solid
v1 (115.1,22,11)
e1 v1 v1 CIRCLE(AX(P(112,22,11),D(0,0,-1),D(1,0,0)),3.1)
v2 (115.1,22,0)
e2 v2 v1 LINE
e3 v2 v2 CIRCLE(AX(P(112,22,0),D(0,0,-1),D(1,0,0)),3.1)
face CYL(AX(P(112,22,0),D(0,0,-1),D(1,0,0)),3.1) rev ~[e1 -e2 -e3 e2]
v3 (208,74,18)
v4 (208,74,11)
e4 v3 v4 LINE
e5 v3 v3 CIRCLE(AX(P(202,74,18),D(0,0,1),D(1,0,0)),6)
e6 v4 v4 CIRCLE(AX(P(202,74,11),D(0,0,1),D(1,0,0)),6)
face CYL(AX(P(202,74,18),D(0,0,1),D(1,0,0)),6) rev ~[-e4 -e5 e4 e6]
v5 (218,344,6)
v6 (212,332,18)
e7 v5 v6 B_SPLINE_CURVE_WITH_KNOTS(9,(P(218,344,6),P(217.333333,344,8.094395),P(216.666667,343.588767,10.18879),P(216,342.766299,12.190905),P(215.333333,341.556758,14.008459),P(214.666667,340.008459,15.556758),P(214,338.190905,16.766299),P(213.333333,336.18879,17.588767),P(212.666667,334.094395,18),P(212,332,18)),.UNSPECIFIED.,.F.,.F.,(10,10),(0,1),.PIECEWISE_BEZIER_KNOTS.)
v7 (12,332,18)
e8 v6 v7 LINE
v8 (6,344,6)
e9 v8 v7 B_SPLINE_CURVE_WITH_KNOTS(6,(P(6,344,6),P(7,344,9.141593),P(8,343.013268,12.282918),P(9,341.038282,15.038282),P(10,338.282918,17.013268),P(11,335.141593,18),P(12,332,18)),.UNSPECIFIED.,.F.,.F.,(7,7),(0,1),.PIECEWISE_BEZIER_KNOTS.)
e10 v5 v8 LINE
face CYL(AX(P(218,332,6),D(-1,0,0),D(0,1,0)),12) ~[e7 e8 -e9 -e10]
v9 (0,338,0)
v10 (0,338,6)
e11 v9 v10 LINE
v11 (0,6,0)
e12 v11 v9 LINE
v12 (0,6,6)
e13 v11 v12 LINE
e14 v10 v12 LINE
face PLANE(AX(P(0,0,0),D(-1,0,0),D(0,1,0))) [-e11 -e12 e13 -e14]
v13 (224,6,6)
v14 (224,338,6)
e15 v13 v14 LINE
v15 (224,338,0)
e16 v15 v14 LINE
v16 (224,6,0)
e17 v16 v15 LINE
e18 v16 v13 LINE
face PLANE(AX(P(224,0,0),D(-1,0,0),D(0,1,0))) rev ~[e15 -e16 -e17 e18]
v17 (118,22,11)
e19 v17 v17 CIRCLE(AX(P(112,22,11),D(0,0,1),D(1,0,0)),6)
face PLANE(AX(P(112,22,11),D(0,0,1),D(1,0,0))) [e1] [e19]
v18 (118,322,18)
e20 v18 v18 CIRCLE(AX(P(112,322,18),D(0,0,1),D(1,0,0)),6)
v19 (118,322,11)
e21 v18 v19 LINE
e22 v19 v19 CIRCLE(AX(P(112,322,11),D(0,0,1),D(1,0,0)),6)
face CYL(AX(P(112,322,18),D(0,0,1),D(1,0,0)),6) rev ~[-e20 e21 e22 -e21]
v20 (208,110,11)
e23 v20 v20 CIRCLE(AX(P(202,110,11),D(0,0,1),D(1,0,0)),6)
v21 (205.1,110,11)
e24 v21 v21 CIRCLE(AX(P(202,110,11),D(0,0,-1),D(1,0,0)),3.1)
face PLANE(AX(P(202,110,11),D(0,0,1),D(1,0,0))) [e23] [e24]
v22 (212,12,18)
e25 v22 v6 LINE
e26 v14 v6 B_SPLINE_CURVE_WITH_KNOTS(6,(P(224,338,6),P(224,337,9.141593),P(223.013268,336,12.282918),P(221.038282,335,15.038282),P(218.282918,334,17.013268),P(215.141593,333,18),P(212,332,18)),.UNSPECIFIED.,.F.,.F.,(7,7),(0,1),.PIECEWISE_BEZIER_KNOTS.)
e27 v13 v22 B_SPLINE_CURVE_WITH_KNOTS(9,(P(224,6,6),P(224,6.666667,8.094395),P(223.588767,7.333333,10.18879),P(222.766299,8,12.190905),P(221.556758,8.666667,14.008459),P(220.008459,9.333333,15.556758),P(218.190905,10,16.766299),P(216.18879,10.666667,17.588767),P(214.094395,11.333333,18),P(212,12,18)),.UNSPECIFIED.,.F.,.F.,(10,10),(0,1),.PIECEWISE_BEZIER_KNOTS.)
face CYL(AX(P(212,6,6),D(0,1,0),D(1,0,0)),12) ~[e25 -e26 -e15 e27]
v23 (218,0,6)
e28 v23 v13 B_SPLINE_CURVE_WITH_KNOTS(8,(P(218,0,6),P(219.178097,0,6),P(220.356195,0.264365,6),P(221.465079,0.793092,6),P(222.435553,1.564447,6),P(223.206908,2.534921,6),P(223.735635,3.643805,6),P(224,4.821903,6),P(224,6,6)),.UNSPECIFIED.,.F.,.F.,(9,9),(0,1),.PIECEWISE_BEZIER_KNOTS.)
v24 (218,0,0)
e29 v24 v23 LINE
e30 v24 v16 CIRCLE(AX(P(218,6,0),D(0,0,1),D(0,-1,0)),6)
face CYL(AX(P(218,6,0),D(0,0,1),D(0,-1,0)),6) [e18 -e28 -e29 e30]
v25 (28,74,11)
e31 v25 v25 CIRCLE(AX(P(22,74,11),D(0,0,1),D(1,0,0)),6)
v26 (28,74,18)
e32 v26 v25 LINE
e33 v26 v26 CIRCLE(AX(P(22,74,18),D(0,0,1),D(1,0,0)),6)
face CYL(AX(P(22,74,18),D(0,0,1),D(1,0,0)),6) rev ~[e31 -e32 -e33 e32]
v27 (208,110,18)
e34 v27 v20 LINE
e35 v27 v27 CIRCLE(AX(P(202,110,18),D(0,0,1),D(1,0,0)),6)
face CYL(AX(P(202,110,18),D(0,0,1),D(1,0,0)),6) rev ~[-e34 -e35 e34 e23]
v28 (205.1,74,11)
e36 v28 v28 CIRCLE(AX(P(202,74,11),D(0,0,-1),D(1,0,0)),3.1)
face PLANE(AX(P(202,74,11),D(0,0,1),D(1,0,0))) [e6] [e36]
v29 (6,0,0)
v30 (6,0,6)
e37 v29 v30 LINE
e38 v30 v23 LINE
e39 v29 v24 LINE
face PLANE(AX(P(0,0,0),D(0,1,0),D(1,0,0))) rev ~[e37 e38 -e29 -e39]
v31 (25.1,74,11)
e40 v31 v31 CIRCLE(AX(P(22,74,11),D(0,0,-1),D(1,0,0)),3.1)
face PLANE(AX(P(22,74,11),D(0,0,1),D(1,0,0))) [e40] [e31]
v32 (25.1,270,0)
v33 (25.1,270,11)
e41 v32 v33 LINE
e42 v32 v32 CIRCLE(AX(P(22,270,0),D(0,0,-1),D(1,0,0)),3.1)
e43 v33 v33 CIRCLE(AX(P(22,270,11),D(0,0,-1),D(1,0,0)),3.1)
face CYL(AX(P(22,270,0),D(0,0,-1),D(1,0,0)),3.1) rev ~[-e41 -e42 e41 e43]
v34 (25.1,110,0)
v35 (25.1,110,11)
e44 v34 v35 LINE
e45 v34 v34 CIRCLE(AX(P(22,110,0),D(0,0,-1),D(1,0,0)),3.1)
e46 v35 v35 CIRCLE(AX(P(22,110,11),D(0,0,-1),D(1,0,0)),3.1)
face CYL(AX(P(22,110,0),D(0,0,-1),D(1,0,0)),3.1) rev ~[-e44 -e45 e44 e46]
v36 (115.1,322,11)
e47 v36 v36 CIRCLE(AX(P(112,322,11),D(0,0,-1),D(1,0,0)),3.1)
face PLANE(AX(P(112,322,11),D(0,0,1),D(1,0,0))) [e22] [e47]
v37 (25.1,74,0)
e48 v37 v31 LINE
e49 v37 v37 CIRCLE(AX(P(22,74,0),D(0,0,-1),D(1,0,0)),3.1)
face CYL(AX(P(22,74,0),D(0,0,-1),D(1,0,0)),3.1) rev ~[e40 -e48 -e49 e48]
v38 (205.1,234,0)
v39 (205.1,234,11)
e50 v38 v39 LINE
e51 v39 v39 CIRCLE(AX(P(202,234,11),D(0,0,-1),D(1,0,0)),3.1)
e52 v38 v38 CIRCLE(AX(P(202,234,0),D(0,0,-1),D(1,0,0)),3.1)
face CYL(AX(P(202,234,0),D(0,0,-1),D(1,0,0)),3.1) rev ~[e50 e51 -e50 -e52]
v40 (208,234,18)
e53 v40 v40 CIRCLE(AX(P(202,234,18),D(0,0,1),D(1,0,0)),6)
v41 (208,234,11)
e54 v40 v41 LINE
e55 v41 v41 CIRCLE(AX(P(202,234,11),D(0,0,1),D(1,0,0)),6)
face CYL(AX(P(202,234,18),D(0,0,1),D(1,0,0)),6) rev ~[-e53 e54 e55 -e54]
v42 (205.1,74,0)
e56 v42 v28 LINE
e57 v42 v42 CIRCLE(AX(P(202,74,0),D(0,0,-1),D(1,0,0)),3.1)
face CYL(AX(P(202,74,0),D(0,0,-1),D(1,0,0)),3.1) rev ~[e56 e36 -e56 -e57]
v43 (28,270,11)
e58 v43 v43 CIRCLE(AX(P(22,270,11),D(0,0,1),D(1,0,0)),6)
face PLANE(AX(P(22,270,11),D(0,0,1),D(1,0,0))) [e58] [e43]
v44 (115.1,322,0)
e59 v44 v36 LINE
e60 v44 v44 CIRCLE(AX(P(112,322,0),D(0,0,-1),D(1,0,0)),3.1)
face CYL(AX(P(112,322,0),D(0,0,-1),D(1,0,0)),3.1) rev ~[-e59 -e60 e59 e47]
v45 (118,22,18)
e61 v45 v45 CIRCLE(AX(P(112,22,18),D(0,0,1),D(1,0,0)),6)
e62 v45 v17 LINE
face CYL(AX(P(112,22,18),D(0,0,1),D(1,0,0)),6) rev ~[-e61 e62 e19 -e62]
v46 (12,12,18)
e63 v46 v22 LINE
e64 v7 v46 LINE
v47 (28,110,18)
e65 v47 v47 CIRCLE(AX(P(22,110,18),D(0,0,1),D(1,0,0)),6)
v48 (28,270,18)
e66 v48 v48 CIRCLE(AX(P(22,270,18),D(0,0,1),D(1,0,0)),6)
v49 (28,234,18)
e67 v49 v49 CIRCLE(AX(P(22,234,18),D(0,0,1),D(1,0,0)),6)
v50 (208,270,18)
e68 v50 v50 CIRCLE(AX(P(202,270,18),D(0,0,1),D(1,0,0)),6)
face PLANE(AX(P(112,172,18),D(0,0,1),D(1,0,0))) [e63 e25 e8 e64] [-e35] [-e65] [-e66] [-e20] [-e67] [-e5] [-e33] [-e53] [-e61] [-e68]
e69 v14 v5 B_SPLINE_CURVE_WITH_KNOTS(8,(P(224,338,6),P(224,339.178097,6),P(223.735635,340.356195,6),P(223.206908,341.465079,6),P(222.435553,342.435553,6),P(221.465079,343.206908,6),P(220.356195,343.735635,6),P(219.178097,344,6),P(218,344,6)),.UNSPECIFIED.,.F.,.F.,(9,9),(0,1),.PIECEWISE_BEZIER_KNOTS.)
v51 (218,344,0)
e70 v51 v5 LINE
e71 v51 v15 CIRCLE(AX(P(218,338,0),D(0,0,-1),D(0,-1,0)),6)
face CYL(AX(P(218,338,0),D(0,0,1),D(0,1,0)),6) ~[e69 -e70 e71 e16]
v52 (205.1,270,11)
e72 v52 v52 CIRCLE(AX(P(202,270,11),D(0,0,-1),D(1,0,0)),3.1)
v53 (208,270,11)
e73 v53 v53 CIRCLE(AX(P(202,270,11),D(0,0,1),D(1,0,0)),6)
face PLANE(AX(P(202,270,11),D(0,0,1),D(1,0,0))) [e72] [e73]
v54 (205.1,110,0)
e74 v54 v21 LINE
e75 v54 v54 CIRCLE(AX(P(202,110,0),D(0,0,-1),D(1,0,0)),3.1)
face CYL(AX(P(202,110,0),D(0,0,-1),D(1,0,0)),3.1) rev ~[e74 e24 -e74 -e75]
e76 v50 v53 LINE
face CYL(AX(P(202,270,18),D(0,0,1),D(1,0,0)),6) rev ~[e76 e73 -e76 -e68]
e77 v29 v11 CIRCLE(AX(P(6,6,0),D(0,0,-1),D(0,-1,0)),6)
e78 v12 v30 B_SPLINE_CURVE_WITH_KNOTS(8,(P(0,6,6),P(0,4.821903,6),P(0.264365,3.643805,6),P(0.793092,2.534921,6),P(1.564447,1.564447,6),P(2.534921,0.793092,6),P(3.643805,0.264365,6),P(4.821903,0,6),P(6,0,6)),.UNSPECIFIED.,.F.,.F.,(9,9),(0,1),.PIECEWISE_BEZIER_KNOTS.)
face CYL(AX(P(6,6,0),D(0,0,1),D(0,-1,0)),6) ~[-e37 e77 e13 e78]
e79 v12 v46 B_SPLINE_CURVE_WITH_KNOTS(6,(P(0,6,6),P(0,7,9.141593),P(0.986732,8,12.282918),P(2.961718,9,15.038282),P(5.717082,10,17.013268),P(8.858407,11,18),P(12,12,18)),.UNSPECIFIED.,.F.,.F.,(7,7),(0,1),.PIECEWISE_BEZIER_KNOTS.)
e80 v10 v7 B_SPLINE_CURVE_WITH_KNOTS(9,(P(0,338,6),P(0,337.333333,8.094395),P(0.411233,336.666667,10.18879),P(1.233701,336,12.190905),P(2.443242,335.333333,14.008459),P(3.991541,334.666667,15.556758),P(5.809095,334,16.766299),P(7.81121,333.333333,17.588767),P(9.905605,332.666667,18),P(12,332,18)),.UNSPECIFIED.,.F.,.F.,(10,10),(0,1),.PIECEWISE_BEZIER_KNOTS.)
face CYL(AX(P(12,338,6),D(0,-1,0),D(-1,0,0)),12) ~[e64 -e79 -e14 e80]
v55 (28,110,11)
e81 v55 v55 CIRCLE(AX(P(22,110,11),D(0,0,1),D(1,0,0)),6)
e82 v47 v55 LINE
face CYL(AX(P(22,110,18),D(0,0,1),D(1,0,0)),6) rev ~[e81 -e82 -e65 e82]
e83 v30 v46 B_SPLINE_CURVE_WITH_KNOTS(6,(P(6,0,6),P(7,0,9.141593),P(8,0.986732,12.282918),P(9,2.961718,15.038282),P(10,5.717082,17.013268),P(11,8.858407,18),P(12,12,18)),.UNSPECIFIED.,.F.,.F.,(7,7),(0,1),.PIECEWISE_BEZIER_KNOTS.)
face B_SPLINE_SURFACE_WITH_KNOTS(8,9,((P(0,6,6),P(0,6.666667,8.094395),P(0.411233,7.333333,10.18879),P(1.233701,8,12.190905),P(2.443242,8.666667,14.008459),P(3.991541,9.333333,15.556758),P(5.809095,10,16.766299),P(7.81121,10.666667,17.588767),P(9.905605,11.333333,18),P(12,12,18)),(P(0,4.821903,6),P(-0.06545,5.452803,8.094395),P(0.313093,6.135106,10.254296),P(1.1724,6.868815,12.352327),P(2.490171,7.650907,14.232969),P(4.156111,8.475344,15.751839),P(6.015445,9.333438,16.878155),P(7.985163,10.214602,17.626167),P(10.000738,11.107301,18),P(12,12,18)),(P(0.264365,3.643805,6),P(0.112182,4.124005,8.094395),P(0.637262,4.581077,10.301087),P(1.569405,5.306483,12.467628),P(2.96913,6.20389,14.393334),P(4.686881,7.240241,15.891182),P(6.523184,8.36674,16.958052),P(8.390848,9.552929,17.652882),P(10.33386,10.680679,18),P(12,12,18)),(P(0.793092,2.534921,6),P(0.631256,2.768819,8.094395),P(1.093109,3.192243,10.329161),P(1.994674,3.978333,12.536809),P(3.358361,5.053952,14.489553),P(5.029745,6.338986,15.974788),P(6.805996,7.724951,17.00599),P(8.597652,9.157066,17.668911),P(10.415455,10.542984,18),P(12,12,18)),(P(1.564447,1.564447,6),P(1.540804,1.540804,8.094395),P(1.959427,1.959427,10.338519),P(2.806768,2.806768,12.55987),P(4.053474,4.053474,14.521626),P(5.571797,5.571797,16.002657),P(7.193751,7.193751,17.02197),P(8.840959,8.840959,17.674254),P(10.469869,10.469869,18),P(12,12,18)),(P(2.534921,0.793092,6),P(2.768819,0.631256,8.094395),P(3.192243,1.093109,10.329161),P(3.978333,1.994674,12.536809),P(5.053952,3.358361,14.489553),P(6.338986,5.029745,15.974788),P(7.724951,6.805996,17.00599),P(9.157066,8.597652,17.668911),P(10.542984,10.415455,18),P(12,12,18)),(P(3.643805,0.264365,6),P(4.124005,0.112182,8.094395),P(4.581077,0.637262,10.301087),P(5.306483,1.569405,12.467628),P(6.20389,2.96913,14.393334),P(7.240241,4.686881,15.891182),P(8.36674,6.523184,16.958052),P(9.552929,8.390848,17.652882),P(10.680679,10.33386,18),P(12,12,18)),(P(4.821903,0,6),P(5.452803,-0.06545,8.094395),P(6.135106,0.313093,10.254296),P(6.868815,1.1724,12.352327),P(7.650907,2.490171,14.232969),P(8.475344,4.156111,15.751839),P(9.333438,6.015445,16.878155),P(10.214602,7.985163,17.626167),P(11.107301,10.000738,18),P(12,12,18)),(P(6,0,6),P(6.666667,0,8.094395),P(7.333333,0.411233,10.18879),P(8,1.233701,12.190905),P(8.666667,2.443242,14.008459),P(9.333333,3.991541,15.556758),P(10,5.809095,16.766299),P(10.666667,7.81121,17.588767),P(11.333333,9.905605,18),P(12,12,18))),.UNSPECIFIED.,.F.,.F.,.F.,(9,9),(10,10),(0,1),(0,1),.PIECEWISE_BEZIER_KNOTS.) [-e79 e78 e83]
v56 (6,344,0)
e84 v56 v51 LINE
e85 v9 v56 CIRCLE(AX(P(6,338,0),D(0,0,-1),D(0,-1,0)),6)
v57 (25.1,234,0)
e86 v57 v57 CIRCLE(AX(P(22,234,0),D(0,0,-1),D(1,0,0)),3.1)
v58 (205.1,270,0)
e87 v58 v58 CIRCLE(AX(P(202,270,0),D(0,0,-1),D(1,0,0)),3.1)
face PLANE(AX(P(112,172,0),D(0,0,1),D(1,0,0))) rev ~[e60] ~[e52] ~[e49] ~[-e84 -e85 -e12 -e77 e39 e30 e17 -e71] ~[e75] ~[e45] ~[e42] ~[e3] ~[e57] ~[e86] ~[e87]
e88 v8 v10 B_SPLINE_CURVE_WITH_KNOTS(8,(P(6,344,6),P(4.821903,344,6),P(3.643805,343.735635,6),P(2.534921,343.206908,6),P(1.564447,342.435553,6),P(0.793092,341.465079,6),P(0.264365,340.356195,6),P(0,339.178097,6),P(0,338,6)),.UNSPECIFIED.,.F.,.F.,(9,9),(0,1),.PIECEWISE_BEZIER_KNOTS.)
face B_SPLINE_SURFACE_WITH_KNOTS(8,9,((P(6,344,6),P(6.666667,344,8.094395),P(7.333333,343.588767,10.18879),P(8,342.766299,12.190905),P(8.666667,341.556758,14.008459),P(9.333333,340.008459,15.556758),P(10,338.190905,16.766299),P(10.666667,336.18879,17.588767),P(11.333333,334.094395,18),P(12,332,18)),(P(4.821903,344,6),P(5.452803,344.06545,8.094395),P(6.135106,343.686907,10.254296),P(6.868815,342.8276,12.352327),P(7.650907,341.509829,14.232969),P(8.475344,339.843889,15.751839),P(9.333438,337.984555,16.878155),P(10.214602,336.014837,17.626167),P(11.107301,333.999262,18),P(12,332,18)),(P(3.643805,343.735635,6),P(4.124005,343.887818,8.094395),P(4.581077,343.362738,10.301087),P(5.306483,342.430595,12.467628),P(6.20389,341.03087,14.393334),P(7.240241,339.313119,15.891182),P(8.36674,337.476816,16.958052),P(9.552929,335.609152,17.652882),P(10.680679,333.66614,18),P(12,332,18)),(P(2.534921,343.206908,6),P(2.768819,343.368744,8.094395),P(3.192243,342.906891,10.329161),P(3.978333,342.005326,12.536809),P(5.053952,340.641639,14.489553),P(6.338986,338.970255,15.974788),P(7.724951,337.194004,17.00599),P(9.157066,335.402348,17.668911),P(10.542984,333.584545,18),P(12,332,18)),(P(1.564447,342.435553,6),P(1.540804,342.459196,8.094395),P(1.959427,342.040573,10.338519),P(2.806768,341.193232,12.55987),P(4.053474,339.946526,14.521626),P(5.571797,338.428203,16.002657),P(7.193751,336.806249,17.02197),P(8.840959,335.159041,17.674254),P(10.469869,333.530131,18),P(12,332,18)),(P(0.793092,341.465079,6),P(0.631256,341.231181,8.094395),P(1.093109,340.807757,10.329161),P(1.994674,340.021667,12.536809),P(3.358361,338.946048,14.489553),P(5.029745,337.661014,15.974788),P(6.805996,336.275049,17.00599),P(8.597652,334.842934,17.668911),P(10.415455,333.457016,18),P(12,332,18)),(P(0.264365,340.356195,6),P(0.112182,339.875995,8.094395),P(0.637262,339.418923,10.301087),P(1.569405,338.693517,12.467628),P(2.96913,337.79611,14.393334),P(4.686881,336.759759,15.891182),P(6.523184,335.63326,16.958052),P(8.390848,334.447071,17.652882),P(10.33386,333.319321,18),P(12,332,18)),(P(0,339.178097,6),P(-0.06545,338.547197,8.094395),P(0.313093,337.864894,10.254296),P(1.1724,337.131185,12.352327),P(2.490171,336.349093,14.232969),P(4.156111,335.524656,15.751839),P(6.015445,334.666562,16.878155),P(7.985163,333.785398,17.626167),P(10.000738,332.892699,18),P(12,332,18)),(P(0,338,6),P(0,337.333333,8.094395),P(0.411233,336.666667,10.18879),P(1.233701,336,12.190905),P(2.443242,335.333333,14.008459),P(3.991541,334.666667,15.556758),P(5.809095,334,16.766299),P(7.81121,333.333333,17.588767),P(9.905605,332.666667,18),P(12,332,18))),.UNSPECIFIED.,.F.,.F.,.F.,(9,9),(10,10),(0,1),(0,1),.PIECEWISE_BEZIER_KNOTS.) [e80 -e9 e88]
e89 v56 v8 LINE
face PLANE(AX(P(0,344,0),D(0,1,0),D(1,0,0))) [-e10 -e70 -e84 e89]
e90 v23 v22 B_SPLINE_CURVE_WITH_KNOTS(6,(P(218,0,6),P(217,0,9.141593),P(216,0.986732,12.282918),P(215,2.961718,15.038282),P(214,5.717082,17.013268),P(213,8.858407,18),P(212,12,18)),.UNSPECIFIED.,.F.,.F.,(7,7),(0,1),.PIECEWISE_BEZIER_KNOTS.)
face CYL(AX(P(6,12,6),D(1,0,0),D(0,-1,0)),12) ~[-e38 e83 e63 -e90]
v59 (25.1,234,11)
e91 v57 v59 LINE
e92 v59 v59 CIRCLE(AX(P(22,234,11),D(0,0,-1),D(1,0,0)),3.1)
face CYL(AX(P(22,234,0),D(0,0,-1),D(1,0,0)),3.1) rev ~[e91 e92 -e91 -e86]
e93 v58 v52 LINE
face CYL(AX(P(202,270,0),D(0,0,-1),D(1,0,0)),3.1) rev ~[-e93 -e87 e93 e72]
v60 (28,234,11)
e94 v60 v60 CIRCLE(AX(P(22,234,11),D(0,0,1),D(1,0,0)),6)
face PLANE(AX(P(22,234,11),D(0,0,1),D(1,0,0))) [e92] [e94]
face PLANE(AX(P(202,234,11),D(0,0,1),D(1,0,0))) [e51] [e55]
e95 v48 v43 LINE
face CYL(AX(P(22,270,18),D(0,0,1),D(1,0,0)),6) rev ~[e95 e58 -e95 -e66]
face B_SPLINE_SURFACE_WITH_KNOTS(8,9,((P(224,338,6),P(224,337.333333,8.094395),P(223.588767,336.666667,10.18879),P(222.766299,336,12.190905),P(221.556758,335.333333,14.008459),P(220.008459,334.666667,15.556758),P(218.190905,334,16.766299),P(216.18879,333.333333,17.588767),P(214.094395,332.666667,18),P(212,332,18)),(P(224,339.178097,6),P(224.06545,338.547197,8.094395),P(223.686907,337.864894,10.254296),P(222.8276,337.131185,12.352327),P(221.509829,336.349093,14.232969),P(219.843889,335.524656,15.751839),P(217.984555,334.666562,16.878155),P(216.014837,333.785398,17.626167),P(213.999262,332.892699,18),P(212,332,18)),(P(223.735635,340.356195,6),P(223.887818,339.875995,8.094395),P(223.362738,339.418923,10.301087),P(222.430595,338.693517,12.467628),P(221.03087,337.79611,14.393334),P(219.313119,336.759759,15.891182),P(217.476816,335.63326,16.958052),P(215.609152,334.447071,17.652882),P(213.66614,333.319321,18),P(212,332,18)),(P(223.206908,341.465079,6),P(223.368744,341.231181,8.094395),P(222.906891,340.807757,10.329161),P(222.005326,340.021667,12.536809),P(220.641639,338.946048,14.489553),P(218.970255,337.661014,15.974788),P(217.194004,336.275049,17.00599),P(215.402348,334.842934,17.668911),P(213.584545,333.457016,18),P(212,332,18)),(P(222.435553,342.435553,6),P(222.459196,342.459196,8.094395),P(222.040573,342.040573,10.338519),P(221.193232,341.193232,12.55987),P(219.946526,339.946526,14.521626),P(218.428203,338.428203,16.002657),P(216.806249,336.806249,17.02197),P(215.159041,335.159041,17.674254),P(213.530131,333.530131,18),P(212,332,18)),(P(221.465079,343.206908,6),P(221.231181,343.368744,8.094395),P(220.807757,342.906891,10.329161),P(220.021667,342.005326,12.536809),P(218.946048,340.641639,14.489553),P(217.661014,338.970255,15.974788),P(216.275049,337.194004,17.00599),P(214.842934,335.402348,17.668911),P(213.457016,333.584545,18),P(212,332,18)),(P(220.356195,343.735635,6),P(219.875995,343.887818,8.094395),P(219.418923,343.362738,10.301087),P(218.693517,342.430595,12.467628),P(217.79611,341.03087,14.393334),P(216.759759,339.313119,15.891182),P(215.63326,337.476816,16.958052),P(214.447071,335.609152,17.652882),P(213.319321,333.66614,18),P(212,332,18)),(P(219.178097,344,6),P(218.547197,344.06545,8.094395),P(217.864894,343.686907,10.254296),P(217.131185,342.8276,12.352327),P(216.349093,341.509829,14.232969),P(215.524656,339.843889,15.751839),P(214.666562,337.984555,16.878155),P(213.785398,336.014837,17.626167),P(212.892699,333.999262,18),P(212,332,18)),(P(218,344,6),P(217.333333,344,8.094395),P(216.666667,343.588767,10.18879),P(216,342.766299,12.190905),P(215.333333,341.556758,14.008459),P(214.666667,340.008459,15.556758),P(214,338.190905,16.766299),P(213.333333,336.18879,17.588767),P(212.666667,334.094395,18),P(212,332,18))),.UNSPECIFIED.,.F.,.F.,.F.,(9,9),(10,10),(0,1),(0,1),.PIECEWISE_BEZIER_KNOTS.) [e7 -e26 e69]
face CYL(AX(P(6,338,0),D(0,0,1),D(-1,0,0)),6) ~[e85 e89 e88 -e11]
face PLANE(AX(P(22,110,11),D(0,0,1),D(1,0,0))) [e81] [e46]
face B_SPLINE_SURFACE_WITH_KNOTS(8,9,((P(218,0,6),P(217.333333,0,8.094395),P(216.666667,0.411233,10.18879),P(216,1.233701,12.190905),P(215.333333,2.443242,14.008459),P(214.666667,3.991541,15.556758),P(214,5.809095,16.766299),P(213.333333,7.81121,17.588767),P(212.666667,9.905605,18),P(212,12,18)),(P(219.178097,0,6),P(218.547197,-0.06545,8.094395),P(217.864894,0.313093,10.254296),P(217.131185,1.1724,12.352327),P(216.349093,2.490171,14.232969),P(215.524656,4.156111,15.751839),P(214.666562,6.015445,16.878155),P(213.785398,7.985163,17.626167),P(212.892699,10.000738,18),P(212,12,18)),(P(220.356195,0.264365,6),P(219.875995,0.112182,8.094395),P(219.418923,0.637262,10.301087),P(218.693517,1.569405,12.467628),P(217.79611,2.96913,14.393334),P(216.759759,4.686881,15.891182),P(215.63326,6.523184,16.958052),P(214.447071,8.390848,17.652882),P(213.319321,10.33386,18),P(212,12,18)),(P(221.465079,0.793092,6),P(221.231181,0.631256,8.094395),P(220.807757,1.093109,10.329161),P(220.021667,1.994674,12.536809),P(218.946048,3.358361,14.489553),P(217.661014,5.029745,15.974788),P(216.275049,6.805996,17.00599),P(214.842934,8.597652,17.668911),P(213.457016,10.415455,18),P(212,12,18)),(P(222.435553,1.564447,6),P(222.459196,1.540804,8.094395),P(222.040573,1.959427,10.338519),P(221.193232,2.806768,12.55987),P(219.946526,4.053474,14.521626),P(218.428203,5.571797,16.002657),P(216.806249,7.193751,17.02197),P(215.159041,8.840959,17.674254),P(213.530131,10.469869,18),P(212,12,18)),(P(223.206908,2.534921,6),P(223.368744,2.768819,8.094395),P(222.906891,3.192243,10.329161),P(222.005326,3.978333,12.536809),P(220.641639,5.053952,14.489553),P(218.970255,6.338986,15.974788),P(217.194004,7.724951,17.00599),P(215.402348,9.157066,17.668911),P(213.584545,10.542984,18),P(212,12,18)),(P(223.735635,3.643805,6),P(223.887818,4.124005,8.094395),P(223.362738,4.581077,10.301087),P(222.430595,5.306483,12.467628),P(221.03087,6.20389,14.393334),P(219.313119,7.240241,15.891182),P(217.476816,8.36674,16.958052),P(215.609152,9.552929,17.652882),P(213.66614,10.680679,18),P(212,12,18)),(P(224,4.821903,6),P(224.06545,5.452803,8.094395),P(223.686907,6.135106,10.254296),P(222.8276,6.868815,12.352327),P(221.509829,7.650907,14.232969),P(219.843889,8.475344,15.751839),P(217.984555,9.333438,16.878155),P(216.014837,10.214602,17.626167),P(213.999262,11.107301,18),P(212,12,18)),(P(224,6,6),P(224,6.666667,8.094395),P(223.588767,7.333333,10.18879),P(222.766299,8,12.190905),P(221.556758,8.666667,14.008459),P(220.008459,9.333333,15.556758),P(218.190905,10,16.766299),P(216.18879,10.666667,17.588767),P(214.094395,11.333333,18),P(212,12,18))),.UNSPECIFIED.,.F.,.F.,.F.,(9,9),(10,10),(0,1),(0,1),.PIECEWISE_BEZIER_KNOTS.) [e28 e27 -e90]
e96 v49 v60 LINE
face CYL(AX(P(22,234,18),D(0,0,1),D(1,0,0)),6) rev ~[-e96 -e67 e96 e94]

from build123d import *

# Parameters (mm, degrees)
SKETCH_W        = 224
SKETCH_H        = 344
PAD_DEPTH       = 18
SKETCH001_R     = 6
POCKET_DEPTH    = 7
SKETCH002_R     = 3.1
POCKET001_DEPTH = 11
FILLET_R        = 6
FILLET001_R     = 6
FILLET002_R     = 6
FILLET003_R     = 6
FILLET004_R     = 12


with BuildPart() as part:
    # Sketch → Pad (new body)
    with BuildSketch(Plane.XY):
        with Locations((112, 172)):
            Rectangle(SKETCH_W, SKETCH_H)
    extrude(amount=PAD_DEPTH)

    # Sketch001 (on Face6 of Pad) → Pocket (cut)
    with BuildSketch(Plane.XY.offset(18)):
        with Locations((112, 322)):
            Circle(SKETCH001_R)
        with Locations((22, 270)):
            Circle(SKETCH001_R)
        with Locations((22, 74)):
            Circle(SKETCH001_R)
        with Locations((202, 234)):
            Circle(SKETCH001_R)
        with Locations((202, 110)):
            Circle(SKETCH001_R)
        with Locations((112, 22)):
            Circle(SKETCH001_R)
        with Locations((22, 234)):
            Circle(SKETCH001_R)
        with Locations((22, 110)):
            Circle(SKETCH001_R)
        with Locations((202, 270)):
            Circle(SKETCH001_R)
        with Locations((202, 74)):
            Circle(SKETCH001_R)
    extrude(amount=-POCKET_DEPTH, mode=Mode.SUBTRACT)

    # Sketch002 (on Face4 of Pocket) → Pocket001 (cut)
    with BuildSketch(Plane(origin=(0, 0, 0), x_dir=(1, 0, 0), z_dir=(0, 0, -1))):
        with Locations((112, -22)):
            Circle(SKETCH002_R)
        with Locations((22, -74)):
            Circle(SKETCH002_R)
        with Locations((22, -110)):
            Circle(SKETCH002_R)
        with Locations((22, -234)):
            Circle(SKETCH002_R)
        with Locations((22, -270)):
            Circle(SKETCH002_R)
        with Locations((202, -74)):
            Circle(SKETCH002_R)
        with Locations((202, -110)):
            Circle(SKETCH002_R)
        with Locations((202, -234)):
            Circle(SKETCH002_R)
        with Locations((202, -270)):
            Circle(SKETCH002_R)
        with Locations((112, -322)):
            Circle(SKETCH002_R)
    extrude(amount=-POCKET001_DEPTH, mode=Mode.SUBTRACT)

    # Fillet
    fillet_edges = [part.edges().sort_by_distance(p)[0] for p in [
        (224, 0, 9),
    ]]
    fillet(fillet_edges, radius=FILLET_R)

    # Fillet001
    fillet001_edges = [part.edges().sort_by_distance(p)[0] for p in [
        (0, 0, 9),
    ]]
    fillet(fillet001_edges, radius=FILLET001_R)

    # Fillet002
    fillet002_edges = [part.edges().sort_by_distance(p)[0] for p in [
        (0, 344, 9),
    ]]
    fillet(fillet002_edges, radius=FILLET002_R)

    # Fillet003
    fillet003_edges = [part.edges().sort_by_distance(p)[0] for p in [
        (224, 344, 9),
    ]]
    fillet(fillet003_edges, radius=FILLET003_R)

    # Fillet004
    fillet004_edges = [part.edges().sort_by_distance(p)[0] for p in [
        (112, 0, 18),
        (222.242641, 1.757359, 18),
        (1.757359, 1.757359, 18),
        (0, 172, 18),
        (1.757359, 342.242641, 18),
        (112, 344, 18),
        (222.242641, 342.242641, 18),
        (224, 172, 18),
    ]]
    fillet(fillet004_edges, radius=FILLET004_R)


solid = part.part
